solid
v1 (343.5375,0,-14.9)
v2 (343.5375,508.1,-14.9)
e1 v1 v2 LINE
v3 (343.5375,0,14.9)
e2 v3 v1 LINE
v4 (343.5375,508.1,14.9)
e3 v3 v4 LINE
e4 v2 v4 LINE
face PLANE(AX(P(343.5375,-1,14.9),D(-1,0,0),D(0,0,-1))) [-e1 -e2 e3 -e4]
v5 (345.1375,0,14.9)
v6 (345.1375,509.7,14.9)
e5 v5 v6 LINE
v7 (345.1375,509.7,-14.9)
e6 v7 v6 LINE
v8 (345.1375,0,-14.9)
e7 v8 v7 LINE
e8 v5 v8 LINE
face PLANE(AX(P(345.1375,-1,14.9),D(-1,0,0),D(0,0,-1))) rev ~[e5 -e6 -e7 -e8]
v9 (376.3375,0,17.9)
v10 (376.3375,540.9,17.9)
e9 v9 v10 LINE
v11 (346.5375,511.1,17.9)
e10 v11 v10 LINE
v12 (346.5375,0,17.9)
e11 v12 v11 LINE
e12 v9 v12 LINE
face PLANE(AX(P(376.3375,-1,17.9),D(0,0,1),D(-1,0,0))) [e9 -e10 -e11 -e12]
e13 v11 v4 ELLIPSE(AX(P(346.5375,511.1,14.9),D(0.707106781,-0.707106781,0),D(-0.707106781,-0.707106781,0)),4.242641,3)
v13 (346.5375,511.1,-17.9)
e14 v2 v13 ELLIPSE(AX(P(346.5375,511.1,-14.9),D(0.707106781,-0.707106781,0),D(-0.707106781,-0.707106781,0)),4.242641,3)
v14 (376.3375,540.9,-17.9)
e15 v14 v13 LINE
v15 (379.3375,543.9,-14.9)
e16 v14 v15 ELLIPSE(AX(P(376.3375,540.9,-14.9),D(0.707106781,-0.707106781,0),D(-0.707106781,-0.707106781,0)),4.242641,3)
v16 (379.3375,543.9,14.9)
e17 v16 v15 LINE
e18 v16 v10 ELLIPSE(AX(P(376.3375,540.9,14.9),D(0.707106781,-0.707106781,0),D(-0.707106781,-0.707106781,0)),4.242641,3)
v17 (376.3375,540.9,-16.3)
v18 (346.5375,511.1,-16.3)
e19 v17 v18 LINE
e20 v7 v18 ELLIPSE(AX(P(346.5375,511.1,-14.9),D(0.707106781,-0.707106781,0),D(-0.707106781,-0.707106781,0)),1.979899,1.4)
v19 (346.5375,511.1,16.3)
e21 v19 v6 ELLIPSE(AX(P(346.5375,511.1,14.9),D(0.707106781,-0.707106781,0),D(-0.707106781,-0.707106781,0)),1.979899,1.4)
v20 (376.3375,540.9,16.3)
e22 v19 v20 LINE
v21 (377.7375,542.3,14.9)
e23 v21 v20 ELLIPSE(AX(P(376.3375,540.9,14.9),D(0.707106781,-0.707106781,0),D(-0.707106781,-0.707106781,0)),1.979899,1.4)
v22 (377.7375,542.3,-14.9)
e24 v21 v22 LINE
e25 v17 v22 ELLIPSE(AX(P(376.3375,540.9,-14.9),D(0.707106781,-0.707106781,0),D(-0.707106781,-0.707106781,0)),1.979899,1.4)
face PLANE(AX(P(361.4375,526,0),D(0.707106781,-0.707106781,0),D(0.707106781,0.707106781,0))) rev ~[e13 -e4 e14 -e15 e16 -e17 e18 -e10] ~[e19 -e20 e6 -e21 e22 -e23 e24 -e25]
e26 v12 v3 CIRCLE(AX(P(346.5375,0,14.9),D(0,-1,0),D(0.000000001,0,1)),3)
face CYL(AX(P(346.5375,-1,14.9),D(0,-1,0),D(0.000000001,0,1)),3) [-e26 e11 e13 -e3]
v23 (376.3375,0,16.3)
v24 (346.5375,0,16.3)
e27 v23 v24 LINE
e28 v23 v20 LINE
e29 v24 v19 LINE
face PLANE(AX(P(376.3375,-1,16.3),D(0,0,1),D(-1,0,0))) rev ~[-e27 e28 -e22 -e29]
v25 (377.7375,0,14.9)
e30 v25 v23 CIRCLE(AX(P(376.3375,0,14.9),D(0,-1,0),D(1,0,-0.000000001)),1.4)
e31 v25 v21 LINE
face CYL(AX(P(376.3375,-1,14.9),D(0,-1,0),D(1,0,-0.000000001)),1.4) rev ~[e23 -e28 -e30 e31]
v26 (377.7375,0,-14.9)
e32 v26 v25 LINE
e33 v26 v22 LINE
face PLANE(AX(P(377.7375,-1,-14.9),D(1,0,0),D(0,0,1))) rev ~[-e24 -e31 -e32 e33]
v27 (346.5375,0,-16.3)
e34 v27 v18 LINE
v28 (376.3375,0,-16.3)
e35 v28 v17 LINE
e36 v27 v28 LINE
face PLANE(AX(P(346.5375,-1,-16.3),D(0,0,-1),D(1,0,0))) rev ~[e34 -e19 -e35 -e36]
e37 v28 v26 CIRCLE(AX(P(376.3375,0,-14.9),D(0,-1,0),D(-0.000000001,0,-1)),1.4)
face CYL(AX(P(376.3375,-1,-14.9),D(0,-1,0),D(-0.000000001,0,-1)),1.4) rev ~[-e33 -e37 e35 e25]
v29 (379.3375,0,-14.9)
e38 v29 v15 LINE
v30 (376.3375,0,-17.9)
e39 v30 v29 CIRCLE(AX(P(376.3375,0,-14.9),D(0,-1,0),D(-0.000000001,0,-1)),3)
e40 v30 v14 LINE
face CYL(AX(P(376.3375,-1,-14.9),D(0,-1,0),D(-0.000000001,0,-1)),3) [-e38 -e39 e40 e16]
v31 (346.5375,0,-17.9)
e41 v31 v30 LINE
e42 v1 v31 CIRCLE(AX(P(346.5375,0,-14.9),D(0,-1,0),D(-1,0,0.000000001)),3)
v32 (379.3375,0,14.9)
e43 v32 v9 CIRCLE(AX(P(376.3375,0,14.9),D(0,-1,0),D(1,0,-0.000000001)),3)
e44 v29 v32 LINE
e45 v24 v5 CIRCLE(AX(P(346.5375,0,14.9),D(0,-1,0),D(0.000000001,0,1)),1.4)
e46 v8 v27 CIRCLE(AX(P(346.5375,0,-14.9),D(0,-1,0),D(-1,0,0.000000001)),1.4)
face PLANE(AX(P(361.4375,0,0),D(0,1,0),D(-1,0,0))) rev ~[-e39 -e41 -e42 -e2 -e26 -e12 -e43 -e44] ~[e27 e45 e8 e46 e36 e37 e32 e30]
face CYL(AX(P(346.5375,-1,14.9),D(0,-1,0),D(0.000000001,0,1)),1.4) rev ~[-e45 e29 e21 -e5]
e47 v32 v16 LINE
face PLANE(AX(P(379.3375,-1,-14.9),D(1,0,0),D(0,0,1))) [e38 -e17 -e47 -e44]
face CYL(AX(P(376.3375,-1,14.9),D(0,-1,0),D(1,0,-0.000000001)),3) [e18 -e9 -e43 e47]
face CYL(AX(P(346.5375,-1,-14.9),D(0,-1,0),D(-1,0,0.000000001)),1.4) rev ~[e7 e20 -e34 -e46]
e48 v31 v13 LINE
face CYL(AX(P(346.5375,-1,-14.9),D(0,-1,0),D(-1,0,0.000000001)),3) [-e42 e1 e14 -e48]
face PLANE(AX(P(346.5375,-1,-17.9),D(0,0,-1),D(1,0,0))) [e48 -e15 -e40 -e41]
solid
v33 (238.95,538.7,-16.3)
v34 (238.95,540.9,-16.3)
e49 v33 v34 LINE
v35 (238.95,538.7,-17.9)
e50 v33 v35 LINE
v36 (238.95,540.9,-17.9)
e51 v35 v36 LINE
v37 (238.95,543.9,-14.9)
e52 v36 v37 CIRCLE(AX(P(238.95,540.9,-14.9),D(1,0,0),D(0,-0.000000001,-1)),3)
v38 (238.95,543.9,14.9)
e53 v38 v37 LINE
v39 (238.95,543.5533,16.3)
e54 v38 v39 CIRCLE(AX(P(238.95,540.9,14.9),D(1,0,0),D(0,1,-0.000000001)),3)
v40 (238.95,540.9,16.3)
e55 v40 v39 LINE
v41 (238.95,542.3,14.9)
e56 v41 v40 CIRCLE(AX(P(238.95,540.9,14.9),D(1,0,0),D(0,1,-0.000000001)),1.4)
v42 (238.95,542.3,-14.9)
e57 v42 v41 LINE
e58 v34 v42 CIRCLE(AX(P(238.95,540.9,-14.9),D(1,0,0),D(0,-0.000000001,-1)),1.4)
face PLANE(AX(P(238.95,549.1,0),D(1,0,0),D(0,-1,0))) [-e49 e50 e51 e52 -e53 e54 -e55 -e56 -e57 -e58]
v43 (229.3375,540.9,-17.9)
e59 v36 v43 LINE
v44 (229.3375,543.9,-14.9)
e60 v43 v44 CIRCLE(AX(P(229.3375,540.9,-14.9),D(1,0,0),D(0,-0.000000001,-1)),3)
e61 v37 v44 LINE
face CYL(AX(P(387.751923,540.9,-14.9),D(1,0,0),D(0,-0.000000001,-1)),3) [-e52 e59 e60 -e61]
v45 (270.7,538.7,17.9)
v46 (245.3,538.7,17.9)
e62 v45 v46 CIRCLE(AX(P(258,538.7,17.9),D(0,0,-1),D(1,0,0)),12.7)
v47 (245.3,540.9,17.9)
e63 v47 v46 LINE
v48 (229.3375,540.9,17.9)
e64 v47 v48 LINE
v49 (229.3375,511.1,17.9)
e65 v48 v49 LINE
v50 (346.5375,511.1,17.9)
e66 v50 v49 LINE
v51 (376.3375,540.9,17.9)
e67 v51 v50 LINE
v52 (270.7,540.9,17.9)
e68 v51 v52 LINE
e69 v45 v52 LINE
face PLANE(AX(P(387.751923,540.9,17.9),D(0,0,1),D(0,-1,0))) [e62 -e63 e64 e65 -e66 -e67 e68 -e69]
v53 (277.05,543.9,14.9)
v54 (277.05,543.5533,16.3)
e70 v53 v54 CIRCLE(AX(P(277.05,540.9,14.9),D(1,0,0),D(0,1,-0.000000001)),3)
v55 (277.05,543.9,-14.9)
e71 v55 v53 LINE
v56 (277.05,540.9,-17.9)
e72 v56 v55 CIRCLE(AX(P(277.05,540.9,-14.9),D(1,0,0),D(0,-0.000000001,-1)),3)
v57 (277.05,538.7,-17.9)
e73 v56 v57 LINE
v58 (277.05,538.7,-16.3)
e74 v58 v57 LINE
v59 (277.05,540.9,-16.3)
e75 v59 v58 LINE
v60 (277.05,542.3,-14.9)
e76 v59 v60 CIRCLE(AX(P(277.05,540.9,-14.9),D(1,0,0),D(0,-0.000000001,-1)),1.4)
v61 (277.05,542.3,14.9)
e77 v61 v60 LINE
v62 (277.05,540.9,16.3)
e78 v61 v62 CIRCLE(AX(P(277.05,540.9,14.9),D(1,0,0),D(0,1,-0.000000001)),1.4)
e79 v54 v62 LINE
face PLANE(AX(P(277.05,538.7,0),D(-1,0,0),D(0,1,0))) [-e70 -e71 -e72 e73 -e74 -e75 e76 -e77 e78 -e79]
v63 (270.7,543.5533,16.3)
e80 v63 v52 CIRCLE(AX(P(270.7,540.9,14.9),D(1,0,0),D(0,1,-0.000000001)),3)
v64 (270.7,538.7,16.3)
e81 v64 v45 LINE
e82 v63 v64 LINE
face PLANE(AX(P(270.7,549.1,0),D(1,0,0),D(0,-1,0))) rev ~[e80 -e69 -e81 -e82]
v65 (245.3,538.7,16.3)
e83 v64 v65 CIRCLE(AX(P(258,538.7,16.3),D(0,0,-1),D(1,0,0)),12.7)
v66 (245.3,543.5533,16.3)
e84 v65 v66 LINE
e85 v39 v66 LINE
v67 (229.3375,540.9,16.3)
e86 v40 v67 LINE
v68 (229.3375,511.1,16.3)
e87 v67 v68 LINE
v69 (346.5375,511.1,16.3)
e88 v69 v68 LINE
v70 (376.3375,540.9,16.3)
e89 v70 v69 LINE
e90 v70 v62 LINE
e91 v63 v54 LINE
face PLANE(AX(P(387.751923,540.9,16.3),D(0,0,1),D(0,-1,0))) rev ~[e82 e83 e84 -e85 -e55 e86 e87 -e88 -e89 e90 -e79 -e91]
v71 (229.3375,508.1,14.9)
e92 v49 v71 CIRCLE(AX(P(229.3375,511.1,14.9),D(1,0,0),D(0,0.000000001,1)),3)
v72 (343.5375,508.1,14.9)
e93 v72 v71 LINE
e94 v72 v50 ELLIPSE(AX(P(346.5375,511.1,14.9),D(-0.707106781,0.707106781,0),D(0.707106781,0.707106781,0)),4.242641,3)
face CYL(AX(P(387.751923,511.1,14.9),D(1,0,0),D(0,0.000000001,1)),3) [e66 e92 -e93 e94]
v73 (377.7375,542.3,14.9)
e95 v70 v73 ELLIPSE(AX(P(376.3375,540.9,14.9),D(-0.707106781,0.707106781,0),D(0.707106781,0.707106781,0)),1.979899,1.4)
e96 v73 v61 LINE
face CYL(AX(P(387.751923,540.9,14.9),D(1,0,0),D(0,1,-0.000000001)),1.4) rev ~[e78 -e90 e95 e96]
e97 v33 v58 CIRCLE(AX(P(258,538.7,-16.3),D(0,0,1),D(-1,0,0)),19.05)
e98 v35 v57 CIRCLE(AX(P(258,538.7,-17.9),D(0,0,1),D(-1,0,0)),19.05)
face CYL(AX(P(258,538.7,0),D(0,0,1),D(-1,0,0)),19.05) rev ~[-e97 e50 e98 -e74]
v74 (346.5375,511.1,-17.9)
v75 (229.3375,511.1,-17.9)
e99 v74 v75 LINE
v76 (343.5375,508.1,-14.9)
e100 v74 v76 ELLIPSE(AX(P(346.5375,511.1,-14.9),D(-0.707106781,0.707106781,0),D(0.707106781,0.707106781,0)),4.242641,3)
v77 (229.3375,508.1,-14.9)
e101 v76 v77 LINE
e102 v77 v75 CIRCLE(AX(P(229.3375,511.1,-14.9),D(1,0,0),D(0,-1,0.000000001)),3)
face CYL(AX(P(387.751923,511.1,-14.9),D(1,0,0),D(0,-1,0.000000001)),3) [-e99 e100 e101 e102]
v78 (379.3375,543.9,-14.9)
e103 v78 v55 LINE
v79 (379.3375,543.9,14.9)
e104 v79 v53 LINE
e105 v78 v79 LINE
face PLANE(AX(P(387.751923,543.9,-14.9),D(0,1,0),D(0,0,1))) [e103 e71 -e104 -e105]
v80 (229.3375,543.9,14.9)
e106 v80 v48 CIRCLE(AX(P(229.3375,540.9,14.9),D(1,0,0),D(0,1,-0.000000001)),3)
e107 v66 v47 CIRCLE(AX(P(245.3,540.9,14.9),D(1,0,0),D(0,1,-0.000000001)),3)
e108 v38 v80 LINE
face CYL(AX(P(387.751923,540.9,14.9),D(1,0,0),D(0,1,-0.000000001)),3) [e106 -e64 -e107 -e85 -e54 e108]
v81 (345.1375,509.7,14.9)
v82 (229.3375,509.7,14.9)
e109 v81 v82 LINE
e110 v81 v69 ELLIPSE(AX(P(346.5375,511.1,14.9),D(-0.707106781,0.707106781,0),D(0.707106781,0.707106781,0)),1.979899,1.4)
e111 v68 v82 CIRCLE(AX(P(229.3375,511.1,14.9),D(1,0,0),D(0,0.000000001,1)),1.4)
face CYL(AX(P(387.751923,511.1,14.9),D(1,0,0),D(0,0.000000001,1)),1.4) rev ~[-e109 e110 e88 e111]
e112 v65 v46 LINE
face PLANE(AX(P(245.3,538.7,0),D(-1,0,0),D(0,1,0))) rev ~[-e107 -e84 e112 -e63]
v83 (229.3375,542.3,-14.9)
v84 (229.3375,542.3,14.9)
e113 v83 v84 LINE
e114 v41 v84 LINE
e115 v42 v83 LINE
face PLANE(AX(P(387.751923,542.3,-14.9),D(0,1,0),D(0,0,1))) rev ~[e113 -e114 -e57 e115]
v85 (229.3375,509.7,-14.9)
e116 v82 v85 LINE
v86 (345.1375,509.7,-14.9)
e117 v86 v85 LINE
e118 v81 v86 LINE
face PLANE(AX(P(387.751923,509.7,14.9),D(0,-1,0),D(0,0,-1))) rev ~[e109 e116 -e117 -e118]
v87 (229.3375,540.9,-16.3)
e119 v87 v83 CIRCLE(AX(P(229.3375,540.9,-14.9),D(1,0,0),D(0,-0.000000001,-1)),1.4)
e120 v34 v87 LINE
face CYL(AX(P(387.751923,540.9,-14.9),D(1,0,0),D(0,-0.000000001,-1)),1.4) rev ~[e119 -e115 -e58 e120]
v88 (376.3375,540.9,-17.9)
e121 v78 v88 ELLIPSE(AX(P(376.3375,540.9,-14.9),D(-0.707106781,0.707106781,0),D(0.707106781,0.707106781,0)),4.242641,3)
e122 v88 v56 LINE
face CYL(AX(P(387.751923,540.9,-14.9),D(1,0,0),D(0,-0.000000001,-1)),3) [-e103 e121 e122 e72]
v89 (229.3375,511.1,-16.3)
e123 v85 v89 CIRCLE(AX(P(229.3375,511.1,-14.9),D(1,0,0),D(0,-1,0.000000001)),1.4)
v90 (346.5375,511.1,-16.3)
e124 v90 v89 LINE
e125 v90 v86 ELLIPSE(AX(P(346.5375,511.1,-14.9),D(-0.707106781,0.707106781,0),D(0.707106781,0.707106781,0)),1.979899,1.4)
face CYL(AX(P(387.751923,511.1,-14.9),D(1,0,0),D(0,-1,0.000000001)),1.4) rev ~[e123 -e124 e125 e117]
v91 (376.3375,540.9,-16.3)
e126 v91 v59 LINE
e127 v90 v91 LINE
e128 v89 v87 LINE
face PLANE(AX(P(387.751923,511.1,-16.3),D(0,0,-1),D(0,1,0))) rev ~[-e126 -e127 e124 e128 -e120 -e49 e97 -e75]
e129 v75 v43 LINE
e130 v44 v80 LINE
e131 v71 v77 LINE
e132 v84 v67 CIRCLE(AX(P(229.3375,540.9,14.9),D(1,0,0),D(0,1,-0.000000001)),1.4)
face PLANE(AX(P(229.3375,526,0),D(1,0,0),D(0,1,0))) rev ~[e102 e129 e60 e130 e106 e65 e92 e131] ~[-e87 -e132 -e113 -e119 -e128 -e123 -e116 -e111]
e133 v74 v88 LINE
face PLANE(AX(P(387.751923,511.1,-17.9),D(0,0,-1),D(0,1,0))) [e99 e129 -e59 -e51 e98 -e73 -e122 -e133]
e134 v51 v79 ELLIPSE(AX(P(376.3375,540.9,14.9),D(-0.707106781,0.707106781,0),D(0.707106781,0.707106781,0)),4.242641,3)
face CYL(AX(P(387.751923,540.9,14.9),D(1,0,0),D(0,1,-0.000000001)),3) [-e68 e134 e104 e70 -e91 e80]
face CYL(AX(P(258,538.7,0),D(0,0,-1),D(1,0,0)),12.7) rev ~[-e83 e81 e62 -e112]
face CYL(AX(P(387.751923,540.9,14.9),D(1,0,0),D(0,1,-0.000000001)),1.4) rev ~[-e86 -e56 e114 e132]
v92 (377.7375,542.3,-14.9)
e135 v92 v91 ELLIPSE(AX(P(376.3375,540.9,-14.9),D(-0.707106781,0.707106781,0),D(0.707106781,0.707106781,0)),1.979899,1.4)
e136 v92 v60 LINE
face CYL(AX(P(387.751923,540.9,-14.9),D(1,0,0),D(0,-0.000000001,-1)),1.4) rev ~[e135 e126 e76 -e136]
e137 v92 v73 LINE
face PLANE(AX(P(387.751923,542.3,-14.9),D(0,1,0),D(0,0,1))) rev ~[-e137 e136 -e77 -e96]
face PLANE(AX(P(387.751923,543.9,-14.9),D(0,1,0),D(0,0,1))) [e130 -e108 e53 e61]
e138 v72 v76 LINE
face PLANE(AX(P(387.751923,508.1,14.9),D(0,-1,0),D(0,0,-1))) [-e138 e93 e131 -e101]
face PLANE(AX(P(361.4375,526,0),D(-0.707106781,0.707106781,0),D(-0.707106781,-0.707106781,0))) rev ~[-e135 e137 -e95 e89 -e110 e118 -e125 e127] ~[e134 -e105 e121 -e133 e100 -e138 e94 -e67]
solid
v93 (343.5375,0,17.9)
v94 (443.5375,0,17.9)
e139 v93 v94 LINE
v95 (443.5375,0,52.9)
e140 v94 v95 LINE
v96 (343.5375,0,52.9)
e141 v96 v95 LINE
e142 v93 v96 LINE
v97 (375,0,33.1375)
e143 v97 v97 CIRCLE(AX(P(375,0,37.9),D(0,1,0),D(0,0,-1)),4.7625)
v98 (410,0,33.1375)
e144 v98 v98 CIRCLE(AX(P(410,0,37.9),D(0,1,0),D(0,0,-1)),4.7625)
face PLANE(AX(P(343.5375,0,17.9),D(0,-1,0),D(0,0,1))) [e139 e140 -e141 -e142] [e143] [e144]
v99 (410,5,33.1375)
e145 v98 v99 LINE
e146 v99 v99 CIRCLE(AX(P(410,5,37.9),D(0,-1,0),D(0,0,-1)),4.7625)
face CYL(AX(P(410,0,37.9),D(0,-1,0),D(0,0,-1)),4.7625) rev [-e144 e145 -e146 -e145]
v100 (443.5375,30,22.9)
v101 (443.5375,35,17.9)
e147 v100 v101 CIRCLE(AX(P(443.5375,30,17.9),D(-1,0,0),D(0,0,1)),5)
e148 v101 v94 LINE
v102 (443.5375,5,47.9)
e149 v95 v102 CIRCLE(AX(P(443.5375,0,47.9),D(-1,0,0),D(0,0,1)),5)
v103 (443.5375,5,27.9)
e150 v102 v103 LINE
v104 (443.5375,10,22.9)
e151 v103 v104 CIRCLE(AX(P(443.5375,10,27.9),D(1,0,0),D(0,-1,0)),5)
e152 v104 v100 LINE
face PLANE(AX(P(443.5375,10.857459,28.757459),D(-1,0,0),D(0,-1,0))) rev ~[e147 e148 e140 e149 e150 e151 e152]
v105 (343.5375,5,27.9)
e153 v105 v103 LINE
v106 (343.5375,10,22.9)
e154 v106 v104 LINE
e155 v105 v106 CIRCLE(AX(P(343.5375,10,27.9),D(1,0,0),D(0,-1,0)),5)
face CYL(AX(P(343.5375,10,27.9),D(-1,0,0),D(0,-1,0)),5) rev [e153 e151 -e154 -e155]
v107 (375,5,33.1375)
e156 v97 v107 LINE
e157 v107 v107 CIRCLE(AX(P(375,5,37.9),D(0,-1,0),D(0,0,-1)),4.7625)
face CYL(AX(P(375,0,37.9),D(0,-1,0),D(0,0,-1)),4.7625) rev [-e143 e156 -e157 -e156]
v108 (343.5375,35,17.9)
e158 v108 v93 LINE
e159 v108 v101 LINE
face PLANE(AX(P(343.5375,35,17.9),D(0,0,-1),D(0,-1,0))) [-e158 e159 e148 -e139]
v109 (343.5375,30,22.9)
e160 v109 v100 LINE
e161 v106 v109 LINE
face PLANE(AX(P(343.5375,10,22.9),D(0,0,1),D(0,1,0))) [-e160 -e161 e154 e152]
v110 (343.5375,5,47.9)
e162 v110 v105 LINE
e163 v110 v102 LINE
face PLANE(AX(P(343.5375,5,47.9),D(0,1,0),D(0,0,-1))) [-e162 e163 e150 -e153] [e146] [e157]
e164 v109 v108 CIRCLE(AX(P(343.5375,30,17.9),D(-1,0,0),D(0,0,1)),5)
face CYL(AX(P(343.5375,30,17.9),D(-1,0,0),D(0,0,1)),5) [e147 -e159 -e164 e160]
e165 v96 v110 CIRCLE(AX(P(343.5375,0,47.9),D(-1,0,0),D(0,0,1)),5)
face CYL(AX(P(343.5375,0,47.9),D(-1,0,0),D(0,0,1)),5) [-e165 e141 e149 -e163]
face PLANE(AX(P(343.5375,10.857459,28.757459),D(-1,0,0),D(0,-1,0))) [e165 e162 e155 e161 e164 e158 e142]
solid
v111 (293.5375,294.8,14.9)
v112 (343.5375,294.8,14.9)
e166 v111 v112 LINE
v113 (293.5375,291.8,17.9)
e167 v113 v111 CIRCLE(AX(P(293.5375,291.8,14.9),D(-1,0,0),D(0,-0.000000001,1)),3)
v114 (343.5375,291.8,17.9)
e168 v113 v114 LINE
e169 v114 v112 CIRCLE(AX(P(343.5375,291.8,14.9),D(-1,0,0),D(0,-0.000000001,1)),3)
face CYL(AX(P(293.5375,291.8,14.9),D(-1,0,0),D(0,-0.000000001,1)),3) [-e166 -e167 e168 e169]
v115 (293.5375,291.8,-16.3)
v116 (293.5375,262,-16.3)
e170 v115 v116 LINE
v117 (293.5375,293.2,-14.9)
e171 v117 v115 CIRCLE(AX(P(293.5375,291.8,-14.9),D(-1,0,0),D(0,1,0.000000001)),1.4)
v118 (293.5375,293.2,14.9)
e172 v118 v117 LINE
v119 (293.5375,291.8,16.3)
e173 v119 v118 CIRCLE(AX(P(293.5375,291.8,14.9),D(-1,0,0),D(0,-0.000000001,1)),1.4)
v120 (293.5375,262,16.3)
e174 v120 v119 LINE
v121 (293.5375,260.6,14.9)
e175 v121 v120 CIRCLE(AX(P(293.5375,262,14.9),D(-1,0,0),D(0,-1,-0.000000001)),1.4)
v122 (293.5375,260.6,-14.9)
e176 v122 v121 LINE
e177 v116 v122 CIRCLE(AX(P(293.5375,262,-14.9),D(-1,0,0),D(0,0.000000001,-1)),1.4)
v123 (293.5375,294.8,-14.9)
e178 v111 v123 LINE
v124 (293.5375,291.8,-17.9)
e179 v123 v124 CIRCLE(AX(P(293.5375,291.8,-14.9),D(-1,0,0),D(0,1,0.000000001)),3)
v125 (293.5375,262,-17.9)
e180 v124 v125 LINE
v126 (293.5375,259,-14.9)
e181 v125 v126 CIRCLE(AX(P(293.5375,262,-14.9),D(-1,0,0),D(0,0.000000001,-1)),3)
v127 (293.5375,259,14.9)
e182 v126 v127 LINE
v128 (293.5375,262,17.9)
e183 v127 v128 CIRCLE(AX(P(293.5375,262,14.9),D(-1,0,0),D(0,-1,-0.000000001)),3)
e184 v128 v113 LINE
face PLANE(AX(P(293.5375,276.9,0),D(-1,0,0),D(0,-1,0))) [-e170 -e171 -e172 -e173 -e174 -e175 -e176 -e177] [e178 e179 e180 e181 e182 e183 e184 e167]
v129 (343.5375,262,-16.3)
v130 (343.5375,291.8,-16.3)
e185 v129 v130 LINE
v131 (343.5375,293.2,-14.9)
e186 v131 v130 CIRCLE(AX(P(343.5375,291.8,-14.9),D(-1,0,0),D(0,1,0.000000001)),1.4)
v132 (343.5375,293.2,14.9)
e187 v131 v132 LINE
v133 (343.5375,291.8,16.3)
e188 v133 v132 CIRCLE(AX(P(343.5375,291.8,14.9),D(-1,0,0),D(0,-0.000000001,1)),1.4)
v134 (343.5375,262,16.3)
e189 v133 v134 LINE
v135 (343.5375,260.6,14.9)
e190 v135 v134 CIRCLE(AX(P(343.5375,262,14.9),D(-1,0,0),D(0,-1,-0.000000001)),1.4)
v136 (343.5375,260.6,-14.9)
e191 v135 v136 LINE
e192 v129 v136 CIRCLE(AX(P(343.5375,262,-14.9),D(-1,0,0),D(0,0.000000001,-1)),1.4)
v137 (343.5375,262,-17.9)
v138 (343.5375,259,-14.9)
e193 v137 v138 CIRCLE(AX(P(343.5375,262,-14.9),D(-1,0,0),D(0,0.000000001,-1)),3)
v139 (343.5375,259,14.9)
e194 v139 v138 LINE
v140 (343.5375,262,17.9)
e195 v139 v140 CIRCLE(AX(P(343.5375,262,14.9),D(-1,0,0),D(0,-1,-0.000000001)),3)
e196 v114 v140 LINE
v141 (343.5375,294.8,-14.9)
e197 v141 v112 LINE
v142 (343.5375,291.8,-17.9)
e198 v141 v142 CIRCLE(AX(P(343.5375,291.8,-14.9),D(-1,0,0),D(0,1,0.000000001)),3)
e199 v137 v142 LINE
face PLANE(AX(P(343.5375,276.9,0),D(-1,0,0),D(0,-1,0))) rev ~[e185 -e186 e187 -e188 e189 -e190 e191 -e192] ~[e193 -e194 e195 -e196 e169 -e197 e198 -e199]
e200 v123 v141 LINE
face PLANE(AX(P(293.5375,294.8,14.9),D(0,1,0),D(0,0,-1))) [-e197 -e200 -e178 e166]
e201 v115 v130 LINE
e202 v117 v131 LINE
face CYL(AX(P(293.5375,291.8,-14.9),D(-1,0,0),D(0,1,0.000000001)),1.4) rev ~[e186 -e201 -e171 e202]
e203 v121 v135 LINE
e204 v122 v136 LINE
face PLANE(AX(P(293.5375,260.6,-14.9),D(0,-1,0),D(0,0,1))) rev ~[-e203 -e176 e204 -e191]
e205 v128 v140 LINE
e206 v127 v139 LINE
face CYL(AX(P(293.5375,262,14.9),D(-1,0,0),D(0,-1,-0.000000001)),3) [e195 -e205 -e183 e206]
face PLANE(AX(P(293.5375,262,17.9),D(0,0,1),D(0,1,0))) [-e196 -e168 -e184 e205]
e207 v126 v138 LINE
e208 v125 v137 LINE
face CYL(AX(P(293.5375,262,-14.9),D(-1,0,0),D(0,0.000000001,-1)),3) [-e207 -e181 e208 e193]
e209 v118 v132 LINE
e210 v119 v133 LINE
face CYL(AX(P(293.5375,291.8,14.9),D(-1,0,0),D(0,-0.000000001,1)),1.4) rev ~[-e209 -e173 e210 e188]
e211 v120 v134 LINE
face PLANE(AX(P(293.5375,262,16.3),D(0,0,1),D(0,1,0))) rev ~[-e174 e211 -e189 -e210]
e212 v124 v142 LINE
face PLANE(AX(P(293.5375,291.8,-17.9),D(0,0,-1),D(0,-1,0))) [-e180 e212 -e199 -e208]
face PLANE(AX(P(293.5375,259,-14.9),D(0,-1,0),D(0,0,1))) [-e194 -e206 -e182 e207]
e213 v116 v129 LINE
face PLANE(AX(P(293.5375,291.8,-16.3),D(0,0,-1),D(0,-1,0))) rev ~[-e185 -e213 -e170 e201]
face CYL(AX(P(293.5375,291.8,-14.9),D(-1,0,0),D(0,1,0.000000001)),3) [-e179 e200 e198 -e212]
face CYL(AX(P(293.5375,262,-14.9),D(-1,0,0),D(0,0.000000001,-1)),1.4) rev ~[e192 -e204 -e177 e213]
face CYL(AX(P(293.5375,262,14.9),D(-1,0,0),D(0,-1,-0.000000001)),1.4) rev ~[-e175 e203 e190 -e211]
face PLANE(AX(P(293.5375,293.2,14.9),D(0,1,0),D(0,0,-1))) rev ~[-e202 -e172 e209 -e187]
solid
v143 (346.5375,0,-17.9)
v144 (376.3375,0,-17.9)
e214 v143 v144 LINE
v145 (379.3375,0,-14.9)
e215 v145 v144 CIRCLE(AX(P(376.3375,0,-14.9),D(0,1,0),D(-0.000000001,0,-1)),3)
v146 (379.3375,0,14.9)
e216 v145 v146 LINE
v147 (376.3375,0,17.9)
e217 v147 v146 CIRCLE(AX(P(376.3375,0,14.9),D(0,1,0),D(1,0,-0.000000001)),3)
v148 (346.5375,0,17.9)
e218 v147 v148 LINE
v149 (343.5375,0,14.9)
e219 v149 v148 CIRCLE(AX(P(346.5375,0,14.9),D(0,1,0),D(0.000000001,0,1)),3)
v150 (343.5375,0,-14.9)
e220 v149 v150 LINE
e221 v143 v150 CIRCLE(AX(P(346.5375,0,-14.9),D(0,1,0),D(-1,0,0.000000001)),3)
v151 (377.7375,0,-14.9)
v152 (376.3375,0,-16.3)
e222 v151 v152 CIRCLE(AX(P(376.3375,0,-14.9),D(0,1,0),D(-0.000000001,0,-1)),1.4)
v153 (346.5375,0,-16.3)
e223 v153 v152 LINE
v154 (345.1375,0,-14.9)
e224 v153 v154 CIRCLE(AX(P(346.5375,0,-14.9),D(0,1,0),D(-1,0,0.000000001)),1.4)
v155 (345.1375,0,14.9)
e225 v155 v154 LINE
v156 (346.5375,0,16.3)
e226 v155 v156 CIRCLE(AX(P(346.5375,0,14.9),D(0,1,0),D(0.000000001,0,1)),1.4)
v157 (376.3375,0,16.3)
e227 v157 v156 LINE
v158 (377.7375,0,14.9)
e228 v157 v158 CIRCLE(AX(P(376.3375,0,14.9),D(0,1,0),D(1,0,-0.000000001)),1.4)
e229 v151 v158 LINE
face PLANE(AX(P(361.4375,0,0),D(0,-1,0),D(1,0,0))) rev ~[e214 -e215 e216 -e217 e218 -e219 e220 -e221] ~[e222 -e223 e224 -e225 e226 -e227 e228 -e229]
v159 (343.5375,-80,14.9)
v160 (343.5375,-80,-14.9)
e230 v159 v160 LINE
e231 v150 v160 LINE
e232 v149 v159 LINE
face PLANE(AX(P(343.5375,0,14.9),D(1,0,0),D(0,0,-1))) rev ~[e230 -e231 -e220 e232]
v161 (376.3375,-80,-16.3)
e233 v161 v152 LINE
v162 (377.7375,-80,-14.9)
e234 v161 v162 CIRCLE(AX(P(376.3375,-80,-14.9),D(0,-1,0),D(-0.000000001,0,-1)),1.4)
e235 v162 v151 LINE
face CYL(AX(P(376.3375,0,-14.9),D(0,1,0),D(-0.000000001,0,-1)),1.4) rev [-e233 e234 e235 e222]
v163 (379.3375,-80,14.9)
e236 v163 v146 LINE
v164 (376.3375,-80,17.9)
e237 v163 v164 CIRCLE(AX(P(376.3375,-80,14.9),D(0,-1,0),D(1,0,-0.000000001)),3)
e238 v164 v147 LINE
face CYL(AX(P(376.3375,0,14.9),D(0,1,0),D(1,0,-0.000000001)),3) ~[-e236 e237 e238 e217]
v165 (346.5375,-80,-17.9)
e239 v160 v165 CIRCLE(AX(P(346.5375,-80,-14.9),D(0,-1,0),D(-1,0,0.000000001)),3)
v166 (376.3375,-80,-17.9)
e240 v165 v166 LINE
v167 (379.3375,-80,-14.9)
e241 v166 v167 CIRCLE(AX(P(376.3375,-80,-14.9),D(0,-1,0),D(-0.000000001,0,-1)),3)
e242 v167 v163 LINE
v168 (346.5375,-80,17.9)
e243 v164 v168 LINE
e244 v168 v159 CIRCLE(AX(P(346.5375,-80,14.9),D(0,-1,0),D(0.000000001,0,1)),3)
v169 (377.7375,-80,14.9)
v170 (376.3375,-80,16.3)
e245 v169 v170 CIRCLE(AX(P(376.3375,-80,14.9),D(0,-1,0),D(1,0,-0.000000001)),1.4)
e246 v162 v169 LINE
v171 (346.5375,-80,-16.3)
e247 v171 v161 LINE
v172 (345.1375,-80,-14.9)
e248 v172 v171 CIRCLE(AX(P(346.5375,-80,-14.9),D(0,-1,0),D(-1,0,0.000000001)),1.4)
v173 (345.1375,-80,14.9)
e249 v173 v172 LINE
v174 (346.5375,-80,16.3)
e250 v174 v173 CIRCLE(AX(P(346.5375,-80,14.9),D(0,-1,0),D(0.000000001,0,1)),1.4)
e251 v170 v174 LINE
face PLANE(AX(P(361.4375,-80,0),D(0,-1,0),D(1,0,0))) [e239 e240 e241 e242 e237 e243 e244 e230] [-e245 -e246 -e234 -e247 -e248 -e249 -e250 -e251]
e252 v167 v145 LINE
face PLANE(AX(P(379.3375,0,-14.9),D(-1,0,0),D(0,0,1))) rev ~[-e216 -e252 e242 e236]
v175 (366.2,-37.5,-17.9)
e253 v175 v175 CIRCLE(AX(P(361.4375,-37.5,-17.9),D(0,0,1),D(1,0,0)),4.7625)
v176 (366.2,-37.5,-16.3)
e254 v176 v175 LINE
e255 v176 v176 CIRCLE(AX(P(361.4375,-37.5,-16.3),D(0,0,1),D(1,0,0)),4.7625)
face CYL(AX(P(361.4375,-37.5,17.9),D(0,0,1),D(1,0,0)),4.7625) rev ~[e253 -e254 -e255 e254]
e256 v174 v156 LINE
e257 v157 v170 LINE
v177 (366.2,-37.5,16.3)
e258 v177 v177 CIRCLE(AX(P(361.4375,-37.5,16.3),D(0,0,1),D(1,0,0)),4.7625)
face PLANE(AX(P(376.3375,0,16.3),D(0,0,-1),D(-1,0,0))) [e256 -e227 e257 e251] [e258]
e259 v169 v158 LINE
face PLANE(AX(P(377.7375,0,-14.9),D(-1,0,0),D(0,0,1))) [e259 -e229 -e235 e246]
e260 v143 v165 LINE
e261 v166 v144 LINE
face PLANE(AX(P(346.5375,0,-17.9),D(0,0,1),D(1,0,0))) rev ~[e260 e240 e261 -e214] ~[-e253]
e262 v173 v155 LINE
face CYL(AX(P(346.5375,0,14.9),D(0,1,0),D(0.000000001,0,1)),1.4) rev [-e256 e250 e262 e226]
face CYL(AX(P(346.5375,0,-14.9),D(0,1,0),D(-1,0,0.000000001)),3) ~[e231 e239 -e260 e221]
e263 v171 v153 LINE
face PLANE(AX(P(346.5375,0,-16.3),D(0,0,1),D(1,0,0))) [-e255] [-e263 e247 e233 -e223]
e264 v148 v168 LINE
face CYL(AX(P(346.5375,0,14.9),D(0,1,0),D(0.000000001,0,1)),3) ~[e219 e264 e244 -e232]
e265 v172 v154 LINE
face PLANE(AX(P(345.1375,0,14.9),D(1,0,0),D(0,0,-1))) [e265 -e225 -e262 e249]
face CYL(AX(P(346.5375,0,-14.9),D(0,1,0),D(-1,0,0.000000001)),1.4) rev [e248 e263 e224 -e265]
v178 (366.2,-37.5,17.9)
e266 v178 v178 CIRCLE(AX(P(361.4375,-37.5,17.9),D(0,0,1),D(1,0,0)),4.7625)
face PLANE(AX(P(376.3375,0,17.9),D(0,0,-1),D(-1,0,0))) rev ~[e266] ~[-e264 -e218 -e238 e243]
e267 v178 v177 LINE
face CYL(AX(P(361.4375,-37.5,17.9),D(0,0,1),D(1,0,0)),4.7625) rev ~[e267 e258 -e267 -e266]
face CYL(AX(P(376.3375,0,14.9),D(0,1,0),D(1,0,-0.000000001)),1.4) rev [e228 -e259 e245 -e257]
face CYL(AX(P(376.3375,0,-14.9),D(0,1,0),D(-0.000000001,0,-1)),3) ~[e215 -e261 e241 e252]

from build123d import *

# Parameters (mm, degrees)
STRUCTURAL_MEMBERMAIN_DEPTH                   = 1
STRUCTURAL_MEMBERMAIN_DEPTH_BACK              = 80
STRUCTURAL_MEMBERMAIN_2_DEPTH                 = 553.314422766
STRUCTURAL_MEMBERMAIN_3_DEPTH                 = 158.414422766
STRUCTURAL_MEMBERMAIN_4_DEPTH                 = 68.9
CUT_EXTRUDETOPRAILGUIDE_DEPTH                 = 664.35854476
CUT_EXTRUDETOPRAILGUIDE_DEPTH_BACK            = 664.35854476
STRUCTURAL_MEMBERANGLE_DEPTH                  = 100
SKETCH15_R                                    = 4.7625
CUT_EXTRUDEMOUNTINGHOLES_DEPTH                = 704.811859737
CUT_EXTRUDEENLARGERAILGUIDE_DEPTH             = 704.811859737
CUT_EXTRUDEENLARGERAILGUIDE_DIRECTION_2_REACH = 705.812
SKETCH19_R                                    = 4.7625
CUT_EXTRUDE1_DEPTH                            = 703.733494225


with BuildPart() as part:
    # Sketch11 → Structural MemberMain (new, two sides)
    with BuildSketch(Plane(origin=(361.4375, 0, 0), x_dir=(-1, 0, 0), z_dir=(0, 1, 0))) as structural_membermain_sk:
        with BuildLine():
            Line((-14.9, 17.9), (14.9, 17.9))
            ThreePointArc((14.9, 17.9), (17.021320344, 17.021320344), (17.9, 14.9))
            Line((17.9, 14.9), (17.9, -14.9))
            ThreePointArc((17.9, -14.9), (17.021320344, -17.021320344), (14.9, -17.9))
            Line((14.9, -17.9), (-14.9, -17.9))
            ThreePointArc((-14.9, -17.9), (-17.021320344, -17.021320344), (-17.9, -14.9))
            Line((-17.9, -14.9), (-17.9, 14.9))
            ThreePointArc((-17.9, 14.9), (-17.021320344, 17.021320344), (-14.9, 17.9))
        make_face()
        with BuildLine():
            Line((-14.9, 16.3), (14.9, 16.3))
            ThreePointArc((14.9, 16.3), (15.889949494, 15.889949494), (16.3, 14.9))
            Line((16.3, 14.9), (16.3, -14.9))
            ThreePointArc((16.3, -14.9), (15.889949494, -15.889949494), (14.9, -16.3))
            Line((14.9, -16.3), (-14.9, -16.3))
            ThreePointArc((-14.9, -16.3), (-15.889949494, -15.889949494), (-16.3, -14.9))
            Line((-16.3, -14.9), (-16.3, 14.9))
            ThreePointArc((-16.3, 14.9), (-15.889949494, 15.889949494), (-14.9, 16.3))
        make_face(mode=Mode.SUBTRACT)
    extrude(amount=STRUCTURAL_MEMBERMAIN_DEPTH)
    extrude(structural_membermain_sk.sketch, amount=-STRUCTURAL_MEMBERMAIN_DEPTH_BACK)

    # Structural MemberMain mitre 1
    split(bisect_by=Plane(origin=(361.4375, 0, 0), x_dir=(1, 0, 0), z_dir=(0, -1, 0)), keep=Keep.TOP)

    # Sketch19 → Cut-Extrude1 (cut, through all)
    with BuildSketch(Plane.XY.offset(17.9)):
        with Locations((361.4375, -37.5)):
            Circle(SKETCH19_R)
    extrude(amount=-CUT_EXTRUDE1_DEPTH, mode=Mode.SUBTRACT)


with BuildPart() as body_2:
    # Sketch11 on segment 2 (carried to segment 2) → Structural MemberMain 2 (new body)
    with BuildSketch(Plane(origin=(361.4375, -1, 0), x_dir=(-1, 0, 0), z_dir=(0, 1, 0))):
        with BuildLine():
            Line((-14.9, 17.9), (14.9, 17.9))
            ThreePointArc((14.9, 17.9), (17.021320344, 17.021320344), (17.9, 14.9))
            Line((17.9, 14.9), (17.9, -14.9))
            ThreePointArc((17.9, -14.9), (17.021320344, -17.021320344), (14.9, -17.9))
            Line((14.9, -17.9), (-14.9, -17.9))
            ThreePointArc((-14.9, -17.9), (-17.021320344, -17.021320344), (-17.9, -14.9))
            Line((-17.9, -14.9), (-17.9, 14.9))
            ThreePointArc((-17.9, 14.9), (-17.021320344, 17.021320344), (-14.9, 17.9))
        make_face()
        with BuildLine():
            Line((-14.9, 16.3), (14.9, 16.3))
            ThreePointArc((14.9, 16.3), (15.889949494, 15.889949494), (16.3, 14.9))
            Line((16.3, 14.9), (16.3, -14.9))
            ThreePointArc((16.3, -14.9), (15.889949494, -15.889949494), (14.9, -16.3))
            Line((14.9, -16.3), (-14.9, -16.3))
            ThreePointArc((-14.9, -16.3), (-15.889949494, -15.889949494), (-16.3, -14.9))
            Line((-16.3, -14.9), (-16.3, 14.9))
            ThreePointArc((-16.3, 14.9), (-15.889949494, 15.889949494), (-14.9, 16.3))
        make_face(mode=Mode.SUBTRACT)
    extrude(amount=STRUCTURAL_MEMBERMAIN_2_DEPTH)

    # Structural MemberMain 2 mitre 1
    split(bisect_by=Plane(origin=(361.4375, 0, 0), x_dir=(-1, 0, 0), z_dir=(0, 1, 0)), keep=Keep.TOP)

    # Structural MemberMain 2 mitre 2
    split(bisect_by=Plane(origin=(361.4375, 526, 0), x_dir=(0.707106781, 0.707106781, 0), z_dir=(0.707106781, -0.707106781, 0)), keep=Keep.TOP)


with BuildPart() as body_3:
    # Sketch11 on segment 3 (carried to segment 3) → Structural MemberMain 3 (new body)
    with BuildSketch(Plane(origin=(387.751922766, 526, 0), x_dir=(0, -1, 0), z_dir=(-1, 0, 0))):
        with BuildLine():
            Line((-14.9, 17.9), (14.9, 17.9))
            ThreePointArc((14.9, 17.9), (17.021320344, 17.021320344), (17.9, 14.9))
            Line((17.9, 14.9), (17.9, -14.9))
            ThreePointArc((17.9, -14.9), (17.021320344, -17.021320344), (14.9, -17.9))
            Line((14.9, -17.9), (-14.9, -17.9))
            ThreePointArc((-14.9, -17.9), (-17.021320344, -17.021320344), (-17.9, -14.9))
            Line((-17.9, -14.9), (-17.9, 14.9))
            ThreePointArc((-17.9, 14.9), (-17.021320344, 17.021320344), (-14.9, 17.9))
        make_face()
        with BuildLine():
            Line((-14.9, 16.3), (14.9, 16.3))
            ThreePointArc((14.9, 16.3), (15.889949494, 15.889949494), (16.3, 14.9))
            Line((16.3, 14.9), (16.3, -14.9))
            ThreePointArc((16.3, -14.9), (15.889949494, -15.889949494), (14.9, -16.3))
            Line((14.9, -16.3), (-14.9, -16.3))
            ThreePointArc((-14.9, -16.3), (-15.889949494, -15.889949494), (-16.3, -14.9))
            Line((-16.3, -14.9), (-16.3, 14.9))
            ThreePointArc((-16.3, 14.9), (-15.889949494, 15.889949494), (-14.9, 16.3))
        make_face(mode=Mode.SUBTRACT)
    extrude(amount=STRUCTURAL_MEMBERMAIN_3_DEPTH)

    # Structural MemberMain 3 mitre 1
    split(bisect_by=Plane(origin=(361.4375, 526, 0), x_dir=(-0.707106781, -0.707106781, 0), z_dir=(-0.707106781, 0.707106781, 0)), keep=Keep.TOP)

    # Sketch12 → Cut-ExtrudeTopRailGuide (cut, two sides)
    with BuildSketch(Plane.XY) as cut_extrudetoprailguide_sk:
        with BuildLine():
            Line((245.3, 538.7), (245.3, 549.1))
            ThreePointArc((245.3, 549.1), (258, 561.8), (270.7, 549.1))
            Line((270.7, 549.1), (270.7, 538.7))
            ThreePointArc((270.7, 538.7), (258, 526), (245.3, 538.7))
        make_face()
    extrude(amount=CUT_EXTRUDETOPRAILGUIDE_DEPTH, mode=Mode.SUBTRACT)
    extrude(cut_extrudetoprailguide_sk.sketch, amount=-CUT_EXTRUDETOPRAILGUIDE_DEPTH_BACK, mode=Mode.SUBTRACT)

    # Sketch16 → Cut-ExtrudeEnlargeRailGuide (cut)
    with BuildSketch(Plane.XY):
        with BuildLine():
            Line((277.05, 538.7), (277.05, 549.1))
            ThreePointArc((277.05, 549.1), (258, 568.15), (238.95, 549.1))
            Line((238.95, 549.1), (238.95, 538.7))
            ThreePointArc((238.95, 538.7), (258, 519.65), (277.05, 538.7))
        make_face()
    extrude(amount=-CUT_EXTRUDEENLARGERAILGUIDE_DEPTH, mode=Mode.SUBTRACT)

    # Cut-ExtrudeEnlargeRailGuide direction 2: up to this face of the body (flat: up to its plane)
    cut_extrudeenlargerailguide_direction_2_end = Plane(body_3.part.faces().sort_by_distance((298.87879231, 525.884806009, 16.3))[0])
    # Sketch16 → Cut-ExtrudeEnlargeRailGuide direction 2 (cut, up to the picked face)
    with BuildSketch(Plane.XY, mode=Mode.PRIVATE) as cut_extrudeenlargerailguide_direction_2_sk1:
        with BuildLine():
            Line((277.05, 538.7), (277.05, 549.1))
            ThreePointArc((277.05, 549.1), (258, 568.15), (238.95, 549.1))
            Line((238.95, 549.1), (238.95, 538.7))
            ThreePointArc((238.95, 538.7), (258, 519.65), (277.05, 538.7))
        make_face()
    cut_extrudeenlargerailguide_direction_2_tool1 = split(extrude(cut_extrudeenlargerailguide_direction_2_sk1.sketch, amount=CUT_EXTRUDEENLARGERAILGUIDE_DIRECTION_2_REACH, mode=Mode.PRIVATE), bisect_by=cut_extrudeenlargerailguide_direction_2_end, keep=Keep.BOTH, mode=Mode.PRIVATE)
    add(cut_extrudeenlargerailguide_direction_2_tool1.solids().sort_by(Axis((258, 543.9, 0), (0, 0, 1)))[0], mode=Mode.SUBTRACT)


with BuildPart() as body_4:
    # Sketch11 on segment 4 (carried to segment 4) → Structural MemberMain 4 (new body)
    with BuildSketch(Plane(origin=(293.5375, 276.9, 0), x_dir=(0, 1, 0), z_dir=(1, 0, 0))):
        with BuildLine():
            Line((-14.9, 17.9), (14.9, 17.9))
            ThreePointArc((14.9, 17.9), (17.021320344, 17.021320344), (17.9, 14.9))
            Line((17.9, 14.9), (17.9, -14.9))
            ThreePointArc((17.9, -14.9), (17.021320344, -17.021320344), (14.9, -17.9))
            Line((14.9, -17.9), (-14.9, -17.9))
            ThreePointArc((-14.9, -17.9), (-17.021320344, -17.021320344), (-17.9, -14.9))
            Line((-17.9, -14.9), (-17.9, 14.9))
            ThreePointArc((-17.9, 14.9), (-17.021320344, 17.021320344), (-14.9, 17.9))
        make_face()
        with BuildLine():
            Line((-14.9, 16.3), (14.9, 16.3))
            ThreePointArc((14.9, 16.3), (15.889949494, 15.889949494), (16.3, 14.9))
            Line((16.3, 14.9), (16.3, -14.9))
            ThreePointArc((16.3, -14.9), (15.889949494, -15.889949494), (14.9, -16.3))
            Line((14.9, -16.3), (-14.9, -16.3))
            ThreePointArc((-14.9, -16.3), (-15.889949494, -15.889949494), (-16.3, -14.9))
            Line((-16.3, -14.9), (-16.3, 14.9))
            ThreePointArc((-16.3, 14.9), (-15.889949494, 15.889949494), (-14.9, 16.3))
        make_face(mode=Mode.SUBTRACT)
    extrude(amount=STRUCTURAL_MEMBERMAIN_4_DEPTH)

    # Structural MemberMain 4 mitre 1
    split(bisect_by=Plane(origin=(343.5375, 276.9, 0), x_dir=(0, -1, 0), z_dir=(-1, 0, 0)), keep=Keep.TOP)


with BuildPart() as body_5:
    # Sketch14 → Structural MemberAngle (new body)
    with BuildSketch(Plane(origin=(343.5375, 0, 17.9), x_dir=(0, 1, 0), z_dir=(1, 0, 0))):
        with BuildLine():
            Line((0, 0), (0, 35))
            ThreePointArc((0, 35), (3.535533906, 33.535533906), (5, 30))
            Line((5, 30), (5, 10))
            ThreePointArc((5, 10), (6.464466094, 6.464466094), (10, 5))
            Line((10, 5), (30, 5))
            ThreePointArc((30, 5), (33.535533906, 3.535533906), (35, 0))
            Line((35, 0), (0, 0))
        make_face()
    extrude(amount=STRUCTURAL_MEMBERANGLE_DEPTH)

    # Sketch15 → Cut-ExtrudeMountingHoles (cut, through all)
    with BuildSketch(Plane(origin=(0, 0, 0), x_dir=(1, 0, 0), z_dir=(0, 1, 0))):
        with Locations(Location((375, -37.9, 0), (0, 0, 90))):
            Circle(SKETCH15_R)
        with Locations(Location((410, -37.9, 0), (0, 0, 90))):
            Circle(SKETCH15_R)
    extrude(amount=CUT_EXTRUDEMOUNTINGHOLES_DEPTH, mode=Mode.SUBTRACT)


solid = Compound([part.part, body_2.part, body_3.part, body_4.part, body_5.part])
